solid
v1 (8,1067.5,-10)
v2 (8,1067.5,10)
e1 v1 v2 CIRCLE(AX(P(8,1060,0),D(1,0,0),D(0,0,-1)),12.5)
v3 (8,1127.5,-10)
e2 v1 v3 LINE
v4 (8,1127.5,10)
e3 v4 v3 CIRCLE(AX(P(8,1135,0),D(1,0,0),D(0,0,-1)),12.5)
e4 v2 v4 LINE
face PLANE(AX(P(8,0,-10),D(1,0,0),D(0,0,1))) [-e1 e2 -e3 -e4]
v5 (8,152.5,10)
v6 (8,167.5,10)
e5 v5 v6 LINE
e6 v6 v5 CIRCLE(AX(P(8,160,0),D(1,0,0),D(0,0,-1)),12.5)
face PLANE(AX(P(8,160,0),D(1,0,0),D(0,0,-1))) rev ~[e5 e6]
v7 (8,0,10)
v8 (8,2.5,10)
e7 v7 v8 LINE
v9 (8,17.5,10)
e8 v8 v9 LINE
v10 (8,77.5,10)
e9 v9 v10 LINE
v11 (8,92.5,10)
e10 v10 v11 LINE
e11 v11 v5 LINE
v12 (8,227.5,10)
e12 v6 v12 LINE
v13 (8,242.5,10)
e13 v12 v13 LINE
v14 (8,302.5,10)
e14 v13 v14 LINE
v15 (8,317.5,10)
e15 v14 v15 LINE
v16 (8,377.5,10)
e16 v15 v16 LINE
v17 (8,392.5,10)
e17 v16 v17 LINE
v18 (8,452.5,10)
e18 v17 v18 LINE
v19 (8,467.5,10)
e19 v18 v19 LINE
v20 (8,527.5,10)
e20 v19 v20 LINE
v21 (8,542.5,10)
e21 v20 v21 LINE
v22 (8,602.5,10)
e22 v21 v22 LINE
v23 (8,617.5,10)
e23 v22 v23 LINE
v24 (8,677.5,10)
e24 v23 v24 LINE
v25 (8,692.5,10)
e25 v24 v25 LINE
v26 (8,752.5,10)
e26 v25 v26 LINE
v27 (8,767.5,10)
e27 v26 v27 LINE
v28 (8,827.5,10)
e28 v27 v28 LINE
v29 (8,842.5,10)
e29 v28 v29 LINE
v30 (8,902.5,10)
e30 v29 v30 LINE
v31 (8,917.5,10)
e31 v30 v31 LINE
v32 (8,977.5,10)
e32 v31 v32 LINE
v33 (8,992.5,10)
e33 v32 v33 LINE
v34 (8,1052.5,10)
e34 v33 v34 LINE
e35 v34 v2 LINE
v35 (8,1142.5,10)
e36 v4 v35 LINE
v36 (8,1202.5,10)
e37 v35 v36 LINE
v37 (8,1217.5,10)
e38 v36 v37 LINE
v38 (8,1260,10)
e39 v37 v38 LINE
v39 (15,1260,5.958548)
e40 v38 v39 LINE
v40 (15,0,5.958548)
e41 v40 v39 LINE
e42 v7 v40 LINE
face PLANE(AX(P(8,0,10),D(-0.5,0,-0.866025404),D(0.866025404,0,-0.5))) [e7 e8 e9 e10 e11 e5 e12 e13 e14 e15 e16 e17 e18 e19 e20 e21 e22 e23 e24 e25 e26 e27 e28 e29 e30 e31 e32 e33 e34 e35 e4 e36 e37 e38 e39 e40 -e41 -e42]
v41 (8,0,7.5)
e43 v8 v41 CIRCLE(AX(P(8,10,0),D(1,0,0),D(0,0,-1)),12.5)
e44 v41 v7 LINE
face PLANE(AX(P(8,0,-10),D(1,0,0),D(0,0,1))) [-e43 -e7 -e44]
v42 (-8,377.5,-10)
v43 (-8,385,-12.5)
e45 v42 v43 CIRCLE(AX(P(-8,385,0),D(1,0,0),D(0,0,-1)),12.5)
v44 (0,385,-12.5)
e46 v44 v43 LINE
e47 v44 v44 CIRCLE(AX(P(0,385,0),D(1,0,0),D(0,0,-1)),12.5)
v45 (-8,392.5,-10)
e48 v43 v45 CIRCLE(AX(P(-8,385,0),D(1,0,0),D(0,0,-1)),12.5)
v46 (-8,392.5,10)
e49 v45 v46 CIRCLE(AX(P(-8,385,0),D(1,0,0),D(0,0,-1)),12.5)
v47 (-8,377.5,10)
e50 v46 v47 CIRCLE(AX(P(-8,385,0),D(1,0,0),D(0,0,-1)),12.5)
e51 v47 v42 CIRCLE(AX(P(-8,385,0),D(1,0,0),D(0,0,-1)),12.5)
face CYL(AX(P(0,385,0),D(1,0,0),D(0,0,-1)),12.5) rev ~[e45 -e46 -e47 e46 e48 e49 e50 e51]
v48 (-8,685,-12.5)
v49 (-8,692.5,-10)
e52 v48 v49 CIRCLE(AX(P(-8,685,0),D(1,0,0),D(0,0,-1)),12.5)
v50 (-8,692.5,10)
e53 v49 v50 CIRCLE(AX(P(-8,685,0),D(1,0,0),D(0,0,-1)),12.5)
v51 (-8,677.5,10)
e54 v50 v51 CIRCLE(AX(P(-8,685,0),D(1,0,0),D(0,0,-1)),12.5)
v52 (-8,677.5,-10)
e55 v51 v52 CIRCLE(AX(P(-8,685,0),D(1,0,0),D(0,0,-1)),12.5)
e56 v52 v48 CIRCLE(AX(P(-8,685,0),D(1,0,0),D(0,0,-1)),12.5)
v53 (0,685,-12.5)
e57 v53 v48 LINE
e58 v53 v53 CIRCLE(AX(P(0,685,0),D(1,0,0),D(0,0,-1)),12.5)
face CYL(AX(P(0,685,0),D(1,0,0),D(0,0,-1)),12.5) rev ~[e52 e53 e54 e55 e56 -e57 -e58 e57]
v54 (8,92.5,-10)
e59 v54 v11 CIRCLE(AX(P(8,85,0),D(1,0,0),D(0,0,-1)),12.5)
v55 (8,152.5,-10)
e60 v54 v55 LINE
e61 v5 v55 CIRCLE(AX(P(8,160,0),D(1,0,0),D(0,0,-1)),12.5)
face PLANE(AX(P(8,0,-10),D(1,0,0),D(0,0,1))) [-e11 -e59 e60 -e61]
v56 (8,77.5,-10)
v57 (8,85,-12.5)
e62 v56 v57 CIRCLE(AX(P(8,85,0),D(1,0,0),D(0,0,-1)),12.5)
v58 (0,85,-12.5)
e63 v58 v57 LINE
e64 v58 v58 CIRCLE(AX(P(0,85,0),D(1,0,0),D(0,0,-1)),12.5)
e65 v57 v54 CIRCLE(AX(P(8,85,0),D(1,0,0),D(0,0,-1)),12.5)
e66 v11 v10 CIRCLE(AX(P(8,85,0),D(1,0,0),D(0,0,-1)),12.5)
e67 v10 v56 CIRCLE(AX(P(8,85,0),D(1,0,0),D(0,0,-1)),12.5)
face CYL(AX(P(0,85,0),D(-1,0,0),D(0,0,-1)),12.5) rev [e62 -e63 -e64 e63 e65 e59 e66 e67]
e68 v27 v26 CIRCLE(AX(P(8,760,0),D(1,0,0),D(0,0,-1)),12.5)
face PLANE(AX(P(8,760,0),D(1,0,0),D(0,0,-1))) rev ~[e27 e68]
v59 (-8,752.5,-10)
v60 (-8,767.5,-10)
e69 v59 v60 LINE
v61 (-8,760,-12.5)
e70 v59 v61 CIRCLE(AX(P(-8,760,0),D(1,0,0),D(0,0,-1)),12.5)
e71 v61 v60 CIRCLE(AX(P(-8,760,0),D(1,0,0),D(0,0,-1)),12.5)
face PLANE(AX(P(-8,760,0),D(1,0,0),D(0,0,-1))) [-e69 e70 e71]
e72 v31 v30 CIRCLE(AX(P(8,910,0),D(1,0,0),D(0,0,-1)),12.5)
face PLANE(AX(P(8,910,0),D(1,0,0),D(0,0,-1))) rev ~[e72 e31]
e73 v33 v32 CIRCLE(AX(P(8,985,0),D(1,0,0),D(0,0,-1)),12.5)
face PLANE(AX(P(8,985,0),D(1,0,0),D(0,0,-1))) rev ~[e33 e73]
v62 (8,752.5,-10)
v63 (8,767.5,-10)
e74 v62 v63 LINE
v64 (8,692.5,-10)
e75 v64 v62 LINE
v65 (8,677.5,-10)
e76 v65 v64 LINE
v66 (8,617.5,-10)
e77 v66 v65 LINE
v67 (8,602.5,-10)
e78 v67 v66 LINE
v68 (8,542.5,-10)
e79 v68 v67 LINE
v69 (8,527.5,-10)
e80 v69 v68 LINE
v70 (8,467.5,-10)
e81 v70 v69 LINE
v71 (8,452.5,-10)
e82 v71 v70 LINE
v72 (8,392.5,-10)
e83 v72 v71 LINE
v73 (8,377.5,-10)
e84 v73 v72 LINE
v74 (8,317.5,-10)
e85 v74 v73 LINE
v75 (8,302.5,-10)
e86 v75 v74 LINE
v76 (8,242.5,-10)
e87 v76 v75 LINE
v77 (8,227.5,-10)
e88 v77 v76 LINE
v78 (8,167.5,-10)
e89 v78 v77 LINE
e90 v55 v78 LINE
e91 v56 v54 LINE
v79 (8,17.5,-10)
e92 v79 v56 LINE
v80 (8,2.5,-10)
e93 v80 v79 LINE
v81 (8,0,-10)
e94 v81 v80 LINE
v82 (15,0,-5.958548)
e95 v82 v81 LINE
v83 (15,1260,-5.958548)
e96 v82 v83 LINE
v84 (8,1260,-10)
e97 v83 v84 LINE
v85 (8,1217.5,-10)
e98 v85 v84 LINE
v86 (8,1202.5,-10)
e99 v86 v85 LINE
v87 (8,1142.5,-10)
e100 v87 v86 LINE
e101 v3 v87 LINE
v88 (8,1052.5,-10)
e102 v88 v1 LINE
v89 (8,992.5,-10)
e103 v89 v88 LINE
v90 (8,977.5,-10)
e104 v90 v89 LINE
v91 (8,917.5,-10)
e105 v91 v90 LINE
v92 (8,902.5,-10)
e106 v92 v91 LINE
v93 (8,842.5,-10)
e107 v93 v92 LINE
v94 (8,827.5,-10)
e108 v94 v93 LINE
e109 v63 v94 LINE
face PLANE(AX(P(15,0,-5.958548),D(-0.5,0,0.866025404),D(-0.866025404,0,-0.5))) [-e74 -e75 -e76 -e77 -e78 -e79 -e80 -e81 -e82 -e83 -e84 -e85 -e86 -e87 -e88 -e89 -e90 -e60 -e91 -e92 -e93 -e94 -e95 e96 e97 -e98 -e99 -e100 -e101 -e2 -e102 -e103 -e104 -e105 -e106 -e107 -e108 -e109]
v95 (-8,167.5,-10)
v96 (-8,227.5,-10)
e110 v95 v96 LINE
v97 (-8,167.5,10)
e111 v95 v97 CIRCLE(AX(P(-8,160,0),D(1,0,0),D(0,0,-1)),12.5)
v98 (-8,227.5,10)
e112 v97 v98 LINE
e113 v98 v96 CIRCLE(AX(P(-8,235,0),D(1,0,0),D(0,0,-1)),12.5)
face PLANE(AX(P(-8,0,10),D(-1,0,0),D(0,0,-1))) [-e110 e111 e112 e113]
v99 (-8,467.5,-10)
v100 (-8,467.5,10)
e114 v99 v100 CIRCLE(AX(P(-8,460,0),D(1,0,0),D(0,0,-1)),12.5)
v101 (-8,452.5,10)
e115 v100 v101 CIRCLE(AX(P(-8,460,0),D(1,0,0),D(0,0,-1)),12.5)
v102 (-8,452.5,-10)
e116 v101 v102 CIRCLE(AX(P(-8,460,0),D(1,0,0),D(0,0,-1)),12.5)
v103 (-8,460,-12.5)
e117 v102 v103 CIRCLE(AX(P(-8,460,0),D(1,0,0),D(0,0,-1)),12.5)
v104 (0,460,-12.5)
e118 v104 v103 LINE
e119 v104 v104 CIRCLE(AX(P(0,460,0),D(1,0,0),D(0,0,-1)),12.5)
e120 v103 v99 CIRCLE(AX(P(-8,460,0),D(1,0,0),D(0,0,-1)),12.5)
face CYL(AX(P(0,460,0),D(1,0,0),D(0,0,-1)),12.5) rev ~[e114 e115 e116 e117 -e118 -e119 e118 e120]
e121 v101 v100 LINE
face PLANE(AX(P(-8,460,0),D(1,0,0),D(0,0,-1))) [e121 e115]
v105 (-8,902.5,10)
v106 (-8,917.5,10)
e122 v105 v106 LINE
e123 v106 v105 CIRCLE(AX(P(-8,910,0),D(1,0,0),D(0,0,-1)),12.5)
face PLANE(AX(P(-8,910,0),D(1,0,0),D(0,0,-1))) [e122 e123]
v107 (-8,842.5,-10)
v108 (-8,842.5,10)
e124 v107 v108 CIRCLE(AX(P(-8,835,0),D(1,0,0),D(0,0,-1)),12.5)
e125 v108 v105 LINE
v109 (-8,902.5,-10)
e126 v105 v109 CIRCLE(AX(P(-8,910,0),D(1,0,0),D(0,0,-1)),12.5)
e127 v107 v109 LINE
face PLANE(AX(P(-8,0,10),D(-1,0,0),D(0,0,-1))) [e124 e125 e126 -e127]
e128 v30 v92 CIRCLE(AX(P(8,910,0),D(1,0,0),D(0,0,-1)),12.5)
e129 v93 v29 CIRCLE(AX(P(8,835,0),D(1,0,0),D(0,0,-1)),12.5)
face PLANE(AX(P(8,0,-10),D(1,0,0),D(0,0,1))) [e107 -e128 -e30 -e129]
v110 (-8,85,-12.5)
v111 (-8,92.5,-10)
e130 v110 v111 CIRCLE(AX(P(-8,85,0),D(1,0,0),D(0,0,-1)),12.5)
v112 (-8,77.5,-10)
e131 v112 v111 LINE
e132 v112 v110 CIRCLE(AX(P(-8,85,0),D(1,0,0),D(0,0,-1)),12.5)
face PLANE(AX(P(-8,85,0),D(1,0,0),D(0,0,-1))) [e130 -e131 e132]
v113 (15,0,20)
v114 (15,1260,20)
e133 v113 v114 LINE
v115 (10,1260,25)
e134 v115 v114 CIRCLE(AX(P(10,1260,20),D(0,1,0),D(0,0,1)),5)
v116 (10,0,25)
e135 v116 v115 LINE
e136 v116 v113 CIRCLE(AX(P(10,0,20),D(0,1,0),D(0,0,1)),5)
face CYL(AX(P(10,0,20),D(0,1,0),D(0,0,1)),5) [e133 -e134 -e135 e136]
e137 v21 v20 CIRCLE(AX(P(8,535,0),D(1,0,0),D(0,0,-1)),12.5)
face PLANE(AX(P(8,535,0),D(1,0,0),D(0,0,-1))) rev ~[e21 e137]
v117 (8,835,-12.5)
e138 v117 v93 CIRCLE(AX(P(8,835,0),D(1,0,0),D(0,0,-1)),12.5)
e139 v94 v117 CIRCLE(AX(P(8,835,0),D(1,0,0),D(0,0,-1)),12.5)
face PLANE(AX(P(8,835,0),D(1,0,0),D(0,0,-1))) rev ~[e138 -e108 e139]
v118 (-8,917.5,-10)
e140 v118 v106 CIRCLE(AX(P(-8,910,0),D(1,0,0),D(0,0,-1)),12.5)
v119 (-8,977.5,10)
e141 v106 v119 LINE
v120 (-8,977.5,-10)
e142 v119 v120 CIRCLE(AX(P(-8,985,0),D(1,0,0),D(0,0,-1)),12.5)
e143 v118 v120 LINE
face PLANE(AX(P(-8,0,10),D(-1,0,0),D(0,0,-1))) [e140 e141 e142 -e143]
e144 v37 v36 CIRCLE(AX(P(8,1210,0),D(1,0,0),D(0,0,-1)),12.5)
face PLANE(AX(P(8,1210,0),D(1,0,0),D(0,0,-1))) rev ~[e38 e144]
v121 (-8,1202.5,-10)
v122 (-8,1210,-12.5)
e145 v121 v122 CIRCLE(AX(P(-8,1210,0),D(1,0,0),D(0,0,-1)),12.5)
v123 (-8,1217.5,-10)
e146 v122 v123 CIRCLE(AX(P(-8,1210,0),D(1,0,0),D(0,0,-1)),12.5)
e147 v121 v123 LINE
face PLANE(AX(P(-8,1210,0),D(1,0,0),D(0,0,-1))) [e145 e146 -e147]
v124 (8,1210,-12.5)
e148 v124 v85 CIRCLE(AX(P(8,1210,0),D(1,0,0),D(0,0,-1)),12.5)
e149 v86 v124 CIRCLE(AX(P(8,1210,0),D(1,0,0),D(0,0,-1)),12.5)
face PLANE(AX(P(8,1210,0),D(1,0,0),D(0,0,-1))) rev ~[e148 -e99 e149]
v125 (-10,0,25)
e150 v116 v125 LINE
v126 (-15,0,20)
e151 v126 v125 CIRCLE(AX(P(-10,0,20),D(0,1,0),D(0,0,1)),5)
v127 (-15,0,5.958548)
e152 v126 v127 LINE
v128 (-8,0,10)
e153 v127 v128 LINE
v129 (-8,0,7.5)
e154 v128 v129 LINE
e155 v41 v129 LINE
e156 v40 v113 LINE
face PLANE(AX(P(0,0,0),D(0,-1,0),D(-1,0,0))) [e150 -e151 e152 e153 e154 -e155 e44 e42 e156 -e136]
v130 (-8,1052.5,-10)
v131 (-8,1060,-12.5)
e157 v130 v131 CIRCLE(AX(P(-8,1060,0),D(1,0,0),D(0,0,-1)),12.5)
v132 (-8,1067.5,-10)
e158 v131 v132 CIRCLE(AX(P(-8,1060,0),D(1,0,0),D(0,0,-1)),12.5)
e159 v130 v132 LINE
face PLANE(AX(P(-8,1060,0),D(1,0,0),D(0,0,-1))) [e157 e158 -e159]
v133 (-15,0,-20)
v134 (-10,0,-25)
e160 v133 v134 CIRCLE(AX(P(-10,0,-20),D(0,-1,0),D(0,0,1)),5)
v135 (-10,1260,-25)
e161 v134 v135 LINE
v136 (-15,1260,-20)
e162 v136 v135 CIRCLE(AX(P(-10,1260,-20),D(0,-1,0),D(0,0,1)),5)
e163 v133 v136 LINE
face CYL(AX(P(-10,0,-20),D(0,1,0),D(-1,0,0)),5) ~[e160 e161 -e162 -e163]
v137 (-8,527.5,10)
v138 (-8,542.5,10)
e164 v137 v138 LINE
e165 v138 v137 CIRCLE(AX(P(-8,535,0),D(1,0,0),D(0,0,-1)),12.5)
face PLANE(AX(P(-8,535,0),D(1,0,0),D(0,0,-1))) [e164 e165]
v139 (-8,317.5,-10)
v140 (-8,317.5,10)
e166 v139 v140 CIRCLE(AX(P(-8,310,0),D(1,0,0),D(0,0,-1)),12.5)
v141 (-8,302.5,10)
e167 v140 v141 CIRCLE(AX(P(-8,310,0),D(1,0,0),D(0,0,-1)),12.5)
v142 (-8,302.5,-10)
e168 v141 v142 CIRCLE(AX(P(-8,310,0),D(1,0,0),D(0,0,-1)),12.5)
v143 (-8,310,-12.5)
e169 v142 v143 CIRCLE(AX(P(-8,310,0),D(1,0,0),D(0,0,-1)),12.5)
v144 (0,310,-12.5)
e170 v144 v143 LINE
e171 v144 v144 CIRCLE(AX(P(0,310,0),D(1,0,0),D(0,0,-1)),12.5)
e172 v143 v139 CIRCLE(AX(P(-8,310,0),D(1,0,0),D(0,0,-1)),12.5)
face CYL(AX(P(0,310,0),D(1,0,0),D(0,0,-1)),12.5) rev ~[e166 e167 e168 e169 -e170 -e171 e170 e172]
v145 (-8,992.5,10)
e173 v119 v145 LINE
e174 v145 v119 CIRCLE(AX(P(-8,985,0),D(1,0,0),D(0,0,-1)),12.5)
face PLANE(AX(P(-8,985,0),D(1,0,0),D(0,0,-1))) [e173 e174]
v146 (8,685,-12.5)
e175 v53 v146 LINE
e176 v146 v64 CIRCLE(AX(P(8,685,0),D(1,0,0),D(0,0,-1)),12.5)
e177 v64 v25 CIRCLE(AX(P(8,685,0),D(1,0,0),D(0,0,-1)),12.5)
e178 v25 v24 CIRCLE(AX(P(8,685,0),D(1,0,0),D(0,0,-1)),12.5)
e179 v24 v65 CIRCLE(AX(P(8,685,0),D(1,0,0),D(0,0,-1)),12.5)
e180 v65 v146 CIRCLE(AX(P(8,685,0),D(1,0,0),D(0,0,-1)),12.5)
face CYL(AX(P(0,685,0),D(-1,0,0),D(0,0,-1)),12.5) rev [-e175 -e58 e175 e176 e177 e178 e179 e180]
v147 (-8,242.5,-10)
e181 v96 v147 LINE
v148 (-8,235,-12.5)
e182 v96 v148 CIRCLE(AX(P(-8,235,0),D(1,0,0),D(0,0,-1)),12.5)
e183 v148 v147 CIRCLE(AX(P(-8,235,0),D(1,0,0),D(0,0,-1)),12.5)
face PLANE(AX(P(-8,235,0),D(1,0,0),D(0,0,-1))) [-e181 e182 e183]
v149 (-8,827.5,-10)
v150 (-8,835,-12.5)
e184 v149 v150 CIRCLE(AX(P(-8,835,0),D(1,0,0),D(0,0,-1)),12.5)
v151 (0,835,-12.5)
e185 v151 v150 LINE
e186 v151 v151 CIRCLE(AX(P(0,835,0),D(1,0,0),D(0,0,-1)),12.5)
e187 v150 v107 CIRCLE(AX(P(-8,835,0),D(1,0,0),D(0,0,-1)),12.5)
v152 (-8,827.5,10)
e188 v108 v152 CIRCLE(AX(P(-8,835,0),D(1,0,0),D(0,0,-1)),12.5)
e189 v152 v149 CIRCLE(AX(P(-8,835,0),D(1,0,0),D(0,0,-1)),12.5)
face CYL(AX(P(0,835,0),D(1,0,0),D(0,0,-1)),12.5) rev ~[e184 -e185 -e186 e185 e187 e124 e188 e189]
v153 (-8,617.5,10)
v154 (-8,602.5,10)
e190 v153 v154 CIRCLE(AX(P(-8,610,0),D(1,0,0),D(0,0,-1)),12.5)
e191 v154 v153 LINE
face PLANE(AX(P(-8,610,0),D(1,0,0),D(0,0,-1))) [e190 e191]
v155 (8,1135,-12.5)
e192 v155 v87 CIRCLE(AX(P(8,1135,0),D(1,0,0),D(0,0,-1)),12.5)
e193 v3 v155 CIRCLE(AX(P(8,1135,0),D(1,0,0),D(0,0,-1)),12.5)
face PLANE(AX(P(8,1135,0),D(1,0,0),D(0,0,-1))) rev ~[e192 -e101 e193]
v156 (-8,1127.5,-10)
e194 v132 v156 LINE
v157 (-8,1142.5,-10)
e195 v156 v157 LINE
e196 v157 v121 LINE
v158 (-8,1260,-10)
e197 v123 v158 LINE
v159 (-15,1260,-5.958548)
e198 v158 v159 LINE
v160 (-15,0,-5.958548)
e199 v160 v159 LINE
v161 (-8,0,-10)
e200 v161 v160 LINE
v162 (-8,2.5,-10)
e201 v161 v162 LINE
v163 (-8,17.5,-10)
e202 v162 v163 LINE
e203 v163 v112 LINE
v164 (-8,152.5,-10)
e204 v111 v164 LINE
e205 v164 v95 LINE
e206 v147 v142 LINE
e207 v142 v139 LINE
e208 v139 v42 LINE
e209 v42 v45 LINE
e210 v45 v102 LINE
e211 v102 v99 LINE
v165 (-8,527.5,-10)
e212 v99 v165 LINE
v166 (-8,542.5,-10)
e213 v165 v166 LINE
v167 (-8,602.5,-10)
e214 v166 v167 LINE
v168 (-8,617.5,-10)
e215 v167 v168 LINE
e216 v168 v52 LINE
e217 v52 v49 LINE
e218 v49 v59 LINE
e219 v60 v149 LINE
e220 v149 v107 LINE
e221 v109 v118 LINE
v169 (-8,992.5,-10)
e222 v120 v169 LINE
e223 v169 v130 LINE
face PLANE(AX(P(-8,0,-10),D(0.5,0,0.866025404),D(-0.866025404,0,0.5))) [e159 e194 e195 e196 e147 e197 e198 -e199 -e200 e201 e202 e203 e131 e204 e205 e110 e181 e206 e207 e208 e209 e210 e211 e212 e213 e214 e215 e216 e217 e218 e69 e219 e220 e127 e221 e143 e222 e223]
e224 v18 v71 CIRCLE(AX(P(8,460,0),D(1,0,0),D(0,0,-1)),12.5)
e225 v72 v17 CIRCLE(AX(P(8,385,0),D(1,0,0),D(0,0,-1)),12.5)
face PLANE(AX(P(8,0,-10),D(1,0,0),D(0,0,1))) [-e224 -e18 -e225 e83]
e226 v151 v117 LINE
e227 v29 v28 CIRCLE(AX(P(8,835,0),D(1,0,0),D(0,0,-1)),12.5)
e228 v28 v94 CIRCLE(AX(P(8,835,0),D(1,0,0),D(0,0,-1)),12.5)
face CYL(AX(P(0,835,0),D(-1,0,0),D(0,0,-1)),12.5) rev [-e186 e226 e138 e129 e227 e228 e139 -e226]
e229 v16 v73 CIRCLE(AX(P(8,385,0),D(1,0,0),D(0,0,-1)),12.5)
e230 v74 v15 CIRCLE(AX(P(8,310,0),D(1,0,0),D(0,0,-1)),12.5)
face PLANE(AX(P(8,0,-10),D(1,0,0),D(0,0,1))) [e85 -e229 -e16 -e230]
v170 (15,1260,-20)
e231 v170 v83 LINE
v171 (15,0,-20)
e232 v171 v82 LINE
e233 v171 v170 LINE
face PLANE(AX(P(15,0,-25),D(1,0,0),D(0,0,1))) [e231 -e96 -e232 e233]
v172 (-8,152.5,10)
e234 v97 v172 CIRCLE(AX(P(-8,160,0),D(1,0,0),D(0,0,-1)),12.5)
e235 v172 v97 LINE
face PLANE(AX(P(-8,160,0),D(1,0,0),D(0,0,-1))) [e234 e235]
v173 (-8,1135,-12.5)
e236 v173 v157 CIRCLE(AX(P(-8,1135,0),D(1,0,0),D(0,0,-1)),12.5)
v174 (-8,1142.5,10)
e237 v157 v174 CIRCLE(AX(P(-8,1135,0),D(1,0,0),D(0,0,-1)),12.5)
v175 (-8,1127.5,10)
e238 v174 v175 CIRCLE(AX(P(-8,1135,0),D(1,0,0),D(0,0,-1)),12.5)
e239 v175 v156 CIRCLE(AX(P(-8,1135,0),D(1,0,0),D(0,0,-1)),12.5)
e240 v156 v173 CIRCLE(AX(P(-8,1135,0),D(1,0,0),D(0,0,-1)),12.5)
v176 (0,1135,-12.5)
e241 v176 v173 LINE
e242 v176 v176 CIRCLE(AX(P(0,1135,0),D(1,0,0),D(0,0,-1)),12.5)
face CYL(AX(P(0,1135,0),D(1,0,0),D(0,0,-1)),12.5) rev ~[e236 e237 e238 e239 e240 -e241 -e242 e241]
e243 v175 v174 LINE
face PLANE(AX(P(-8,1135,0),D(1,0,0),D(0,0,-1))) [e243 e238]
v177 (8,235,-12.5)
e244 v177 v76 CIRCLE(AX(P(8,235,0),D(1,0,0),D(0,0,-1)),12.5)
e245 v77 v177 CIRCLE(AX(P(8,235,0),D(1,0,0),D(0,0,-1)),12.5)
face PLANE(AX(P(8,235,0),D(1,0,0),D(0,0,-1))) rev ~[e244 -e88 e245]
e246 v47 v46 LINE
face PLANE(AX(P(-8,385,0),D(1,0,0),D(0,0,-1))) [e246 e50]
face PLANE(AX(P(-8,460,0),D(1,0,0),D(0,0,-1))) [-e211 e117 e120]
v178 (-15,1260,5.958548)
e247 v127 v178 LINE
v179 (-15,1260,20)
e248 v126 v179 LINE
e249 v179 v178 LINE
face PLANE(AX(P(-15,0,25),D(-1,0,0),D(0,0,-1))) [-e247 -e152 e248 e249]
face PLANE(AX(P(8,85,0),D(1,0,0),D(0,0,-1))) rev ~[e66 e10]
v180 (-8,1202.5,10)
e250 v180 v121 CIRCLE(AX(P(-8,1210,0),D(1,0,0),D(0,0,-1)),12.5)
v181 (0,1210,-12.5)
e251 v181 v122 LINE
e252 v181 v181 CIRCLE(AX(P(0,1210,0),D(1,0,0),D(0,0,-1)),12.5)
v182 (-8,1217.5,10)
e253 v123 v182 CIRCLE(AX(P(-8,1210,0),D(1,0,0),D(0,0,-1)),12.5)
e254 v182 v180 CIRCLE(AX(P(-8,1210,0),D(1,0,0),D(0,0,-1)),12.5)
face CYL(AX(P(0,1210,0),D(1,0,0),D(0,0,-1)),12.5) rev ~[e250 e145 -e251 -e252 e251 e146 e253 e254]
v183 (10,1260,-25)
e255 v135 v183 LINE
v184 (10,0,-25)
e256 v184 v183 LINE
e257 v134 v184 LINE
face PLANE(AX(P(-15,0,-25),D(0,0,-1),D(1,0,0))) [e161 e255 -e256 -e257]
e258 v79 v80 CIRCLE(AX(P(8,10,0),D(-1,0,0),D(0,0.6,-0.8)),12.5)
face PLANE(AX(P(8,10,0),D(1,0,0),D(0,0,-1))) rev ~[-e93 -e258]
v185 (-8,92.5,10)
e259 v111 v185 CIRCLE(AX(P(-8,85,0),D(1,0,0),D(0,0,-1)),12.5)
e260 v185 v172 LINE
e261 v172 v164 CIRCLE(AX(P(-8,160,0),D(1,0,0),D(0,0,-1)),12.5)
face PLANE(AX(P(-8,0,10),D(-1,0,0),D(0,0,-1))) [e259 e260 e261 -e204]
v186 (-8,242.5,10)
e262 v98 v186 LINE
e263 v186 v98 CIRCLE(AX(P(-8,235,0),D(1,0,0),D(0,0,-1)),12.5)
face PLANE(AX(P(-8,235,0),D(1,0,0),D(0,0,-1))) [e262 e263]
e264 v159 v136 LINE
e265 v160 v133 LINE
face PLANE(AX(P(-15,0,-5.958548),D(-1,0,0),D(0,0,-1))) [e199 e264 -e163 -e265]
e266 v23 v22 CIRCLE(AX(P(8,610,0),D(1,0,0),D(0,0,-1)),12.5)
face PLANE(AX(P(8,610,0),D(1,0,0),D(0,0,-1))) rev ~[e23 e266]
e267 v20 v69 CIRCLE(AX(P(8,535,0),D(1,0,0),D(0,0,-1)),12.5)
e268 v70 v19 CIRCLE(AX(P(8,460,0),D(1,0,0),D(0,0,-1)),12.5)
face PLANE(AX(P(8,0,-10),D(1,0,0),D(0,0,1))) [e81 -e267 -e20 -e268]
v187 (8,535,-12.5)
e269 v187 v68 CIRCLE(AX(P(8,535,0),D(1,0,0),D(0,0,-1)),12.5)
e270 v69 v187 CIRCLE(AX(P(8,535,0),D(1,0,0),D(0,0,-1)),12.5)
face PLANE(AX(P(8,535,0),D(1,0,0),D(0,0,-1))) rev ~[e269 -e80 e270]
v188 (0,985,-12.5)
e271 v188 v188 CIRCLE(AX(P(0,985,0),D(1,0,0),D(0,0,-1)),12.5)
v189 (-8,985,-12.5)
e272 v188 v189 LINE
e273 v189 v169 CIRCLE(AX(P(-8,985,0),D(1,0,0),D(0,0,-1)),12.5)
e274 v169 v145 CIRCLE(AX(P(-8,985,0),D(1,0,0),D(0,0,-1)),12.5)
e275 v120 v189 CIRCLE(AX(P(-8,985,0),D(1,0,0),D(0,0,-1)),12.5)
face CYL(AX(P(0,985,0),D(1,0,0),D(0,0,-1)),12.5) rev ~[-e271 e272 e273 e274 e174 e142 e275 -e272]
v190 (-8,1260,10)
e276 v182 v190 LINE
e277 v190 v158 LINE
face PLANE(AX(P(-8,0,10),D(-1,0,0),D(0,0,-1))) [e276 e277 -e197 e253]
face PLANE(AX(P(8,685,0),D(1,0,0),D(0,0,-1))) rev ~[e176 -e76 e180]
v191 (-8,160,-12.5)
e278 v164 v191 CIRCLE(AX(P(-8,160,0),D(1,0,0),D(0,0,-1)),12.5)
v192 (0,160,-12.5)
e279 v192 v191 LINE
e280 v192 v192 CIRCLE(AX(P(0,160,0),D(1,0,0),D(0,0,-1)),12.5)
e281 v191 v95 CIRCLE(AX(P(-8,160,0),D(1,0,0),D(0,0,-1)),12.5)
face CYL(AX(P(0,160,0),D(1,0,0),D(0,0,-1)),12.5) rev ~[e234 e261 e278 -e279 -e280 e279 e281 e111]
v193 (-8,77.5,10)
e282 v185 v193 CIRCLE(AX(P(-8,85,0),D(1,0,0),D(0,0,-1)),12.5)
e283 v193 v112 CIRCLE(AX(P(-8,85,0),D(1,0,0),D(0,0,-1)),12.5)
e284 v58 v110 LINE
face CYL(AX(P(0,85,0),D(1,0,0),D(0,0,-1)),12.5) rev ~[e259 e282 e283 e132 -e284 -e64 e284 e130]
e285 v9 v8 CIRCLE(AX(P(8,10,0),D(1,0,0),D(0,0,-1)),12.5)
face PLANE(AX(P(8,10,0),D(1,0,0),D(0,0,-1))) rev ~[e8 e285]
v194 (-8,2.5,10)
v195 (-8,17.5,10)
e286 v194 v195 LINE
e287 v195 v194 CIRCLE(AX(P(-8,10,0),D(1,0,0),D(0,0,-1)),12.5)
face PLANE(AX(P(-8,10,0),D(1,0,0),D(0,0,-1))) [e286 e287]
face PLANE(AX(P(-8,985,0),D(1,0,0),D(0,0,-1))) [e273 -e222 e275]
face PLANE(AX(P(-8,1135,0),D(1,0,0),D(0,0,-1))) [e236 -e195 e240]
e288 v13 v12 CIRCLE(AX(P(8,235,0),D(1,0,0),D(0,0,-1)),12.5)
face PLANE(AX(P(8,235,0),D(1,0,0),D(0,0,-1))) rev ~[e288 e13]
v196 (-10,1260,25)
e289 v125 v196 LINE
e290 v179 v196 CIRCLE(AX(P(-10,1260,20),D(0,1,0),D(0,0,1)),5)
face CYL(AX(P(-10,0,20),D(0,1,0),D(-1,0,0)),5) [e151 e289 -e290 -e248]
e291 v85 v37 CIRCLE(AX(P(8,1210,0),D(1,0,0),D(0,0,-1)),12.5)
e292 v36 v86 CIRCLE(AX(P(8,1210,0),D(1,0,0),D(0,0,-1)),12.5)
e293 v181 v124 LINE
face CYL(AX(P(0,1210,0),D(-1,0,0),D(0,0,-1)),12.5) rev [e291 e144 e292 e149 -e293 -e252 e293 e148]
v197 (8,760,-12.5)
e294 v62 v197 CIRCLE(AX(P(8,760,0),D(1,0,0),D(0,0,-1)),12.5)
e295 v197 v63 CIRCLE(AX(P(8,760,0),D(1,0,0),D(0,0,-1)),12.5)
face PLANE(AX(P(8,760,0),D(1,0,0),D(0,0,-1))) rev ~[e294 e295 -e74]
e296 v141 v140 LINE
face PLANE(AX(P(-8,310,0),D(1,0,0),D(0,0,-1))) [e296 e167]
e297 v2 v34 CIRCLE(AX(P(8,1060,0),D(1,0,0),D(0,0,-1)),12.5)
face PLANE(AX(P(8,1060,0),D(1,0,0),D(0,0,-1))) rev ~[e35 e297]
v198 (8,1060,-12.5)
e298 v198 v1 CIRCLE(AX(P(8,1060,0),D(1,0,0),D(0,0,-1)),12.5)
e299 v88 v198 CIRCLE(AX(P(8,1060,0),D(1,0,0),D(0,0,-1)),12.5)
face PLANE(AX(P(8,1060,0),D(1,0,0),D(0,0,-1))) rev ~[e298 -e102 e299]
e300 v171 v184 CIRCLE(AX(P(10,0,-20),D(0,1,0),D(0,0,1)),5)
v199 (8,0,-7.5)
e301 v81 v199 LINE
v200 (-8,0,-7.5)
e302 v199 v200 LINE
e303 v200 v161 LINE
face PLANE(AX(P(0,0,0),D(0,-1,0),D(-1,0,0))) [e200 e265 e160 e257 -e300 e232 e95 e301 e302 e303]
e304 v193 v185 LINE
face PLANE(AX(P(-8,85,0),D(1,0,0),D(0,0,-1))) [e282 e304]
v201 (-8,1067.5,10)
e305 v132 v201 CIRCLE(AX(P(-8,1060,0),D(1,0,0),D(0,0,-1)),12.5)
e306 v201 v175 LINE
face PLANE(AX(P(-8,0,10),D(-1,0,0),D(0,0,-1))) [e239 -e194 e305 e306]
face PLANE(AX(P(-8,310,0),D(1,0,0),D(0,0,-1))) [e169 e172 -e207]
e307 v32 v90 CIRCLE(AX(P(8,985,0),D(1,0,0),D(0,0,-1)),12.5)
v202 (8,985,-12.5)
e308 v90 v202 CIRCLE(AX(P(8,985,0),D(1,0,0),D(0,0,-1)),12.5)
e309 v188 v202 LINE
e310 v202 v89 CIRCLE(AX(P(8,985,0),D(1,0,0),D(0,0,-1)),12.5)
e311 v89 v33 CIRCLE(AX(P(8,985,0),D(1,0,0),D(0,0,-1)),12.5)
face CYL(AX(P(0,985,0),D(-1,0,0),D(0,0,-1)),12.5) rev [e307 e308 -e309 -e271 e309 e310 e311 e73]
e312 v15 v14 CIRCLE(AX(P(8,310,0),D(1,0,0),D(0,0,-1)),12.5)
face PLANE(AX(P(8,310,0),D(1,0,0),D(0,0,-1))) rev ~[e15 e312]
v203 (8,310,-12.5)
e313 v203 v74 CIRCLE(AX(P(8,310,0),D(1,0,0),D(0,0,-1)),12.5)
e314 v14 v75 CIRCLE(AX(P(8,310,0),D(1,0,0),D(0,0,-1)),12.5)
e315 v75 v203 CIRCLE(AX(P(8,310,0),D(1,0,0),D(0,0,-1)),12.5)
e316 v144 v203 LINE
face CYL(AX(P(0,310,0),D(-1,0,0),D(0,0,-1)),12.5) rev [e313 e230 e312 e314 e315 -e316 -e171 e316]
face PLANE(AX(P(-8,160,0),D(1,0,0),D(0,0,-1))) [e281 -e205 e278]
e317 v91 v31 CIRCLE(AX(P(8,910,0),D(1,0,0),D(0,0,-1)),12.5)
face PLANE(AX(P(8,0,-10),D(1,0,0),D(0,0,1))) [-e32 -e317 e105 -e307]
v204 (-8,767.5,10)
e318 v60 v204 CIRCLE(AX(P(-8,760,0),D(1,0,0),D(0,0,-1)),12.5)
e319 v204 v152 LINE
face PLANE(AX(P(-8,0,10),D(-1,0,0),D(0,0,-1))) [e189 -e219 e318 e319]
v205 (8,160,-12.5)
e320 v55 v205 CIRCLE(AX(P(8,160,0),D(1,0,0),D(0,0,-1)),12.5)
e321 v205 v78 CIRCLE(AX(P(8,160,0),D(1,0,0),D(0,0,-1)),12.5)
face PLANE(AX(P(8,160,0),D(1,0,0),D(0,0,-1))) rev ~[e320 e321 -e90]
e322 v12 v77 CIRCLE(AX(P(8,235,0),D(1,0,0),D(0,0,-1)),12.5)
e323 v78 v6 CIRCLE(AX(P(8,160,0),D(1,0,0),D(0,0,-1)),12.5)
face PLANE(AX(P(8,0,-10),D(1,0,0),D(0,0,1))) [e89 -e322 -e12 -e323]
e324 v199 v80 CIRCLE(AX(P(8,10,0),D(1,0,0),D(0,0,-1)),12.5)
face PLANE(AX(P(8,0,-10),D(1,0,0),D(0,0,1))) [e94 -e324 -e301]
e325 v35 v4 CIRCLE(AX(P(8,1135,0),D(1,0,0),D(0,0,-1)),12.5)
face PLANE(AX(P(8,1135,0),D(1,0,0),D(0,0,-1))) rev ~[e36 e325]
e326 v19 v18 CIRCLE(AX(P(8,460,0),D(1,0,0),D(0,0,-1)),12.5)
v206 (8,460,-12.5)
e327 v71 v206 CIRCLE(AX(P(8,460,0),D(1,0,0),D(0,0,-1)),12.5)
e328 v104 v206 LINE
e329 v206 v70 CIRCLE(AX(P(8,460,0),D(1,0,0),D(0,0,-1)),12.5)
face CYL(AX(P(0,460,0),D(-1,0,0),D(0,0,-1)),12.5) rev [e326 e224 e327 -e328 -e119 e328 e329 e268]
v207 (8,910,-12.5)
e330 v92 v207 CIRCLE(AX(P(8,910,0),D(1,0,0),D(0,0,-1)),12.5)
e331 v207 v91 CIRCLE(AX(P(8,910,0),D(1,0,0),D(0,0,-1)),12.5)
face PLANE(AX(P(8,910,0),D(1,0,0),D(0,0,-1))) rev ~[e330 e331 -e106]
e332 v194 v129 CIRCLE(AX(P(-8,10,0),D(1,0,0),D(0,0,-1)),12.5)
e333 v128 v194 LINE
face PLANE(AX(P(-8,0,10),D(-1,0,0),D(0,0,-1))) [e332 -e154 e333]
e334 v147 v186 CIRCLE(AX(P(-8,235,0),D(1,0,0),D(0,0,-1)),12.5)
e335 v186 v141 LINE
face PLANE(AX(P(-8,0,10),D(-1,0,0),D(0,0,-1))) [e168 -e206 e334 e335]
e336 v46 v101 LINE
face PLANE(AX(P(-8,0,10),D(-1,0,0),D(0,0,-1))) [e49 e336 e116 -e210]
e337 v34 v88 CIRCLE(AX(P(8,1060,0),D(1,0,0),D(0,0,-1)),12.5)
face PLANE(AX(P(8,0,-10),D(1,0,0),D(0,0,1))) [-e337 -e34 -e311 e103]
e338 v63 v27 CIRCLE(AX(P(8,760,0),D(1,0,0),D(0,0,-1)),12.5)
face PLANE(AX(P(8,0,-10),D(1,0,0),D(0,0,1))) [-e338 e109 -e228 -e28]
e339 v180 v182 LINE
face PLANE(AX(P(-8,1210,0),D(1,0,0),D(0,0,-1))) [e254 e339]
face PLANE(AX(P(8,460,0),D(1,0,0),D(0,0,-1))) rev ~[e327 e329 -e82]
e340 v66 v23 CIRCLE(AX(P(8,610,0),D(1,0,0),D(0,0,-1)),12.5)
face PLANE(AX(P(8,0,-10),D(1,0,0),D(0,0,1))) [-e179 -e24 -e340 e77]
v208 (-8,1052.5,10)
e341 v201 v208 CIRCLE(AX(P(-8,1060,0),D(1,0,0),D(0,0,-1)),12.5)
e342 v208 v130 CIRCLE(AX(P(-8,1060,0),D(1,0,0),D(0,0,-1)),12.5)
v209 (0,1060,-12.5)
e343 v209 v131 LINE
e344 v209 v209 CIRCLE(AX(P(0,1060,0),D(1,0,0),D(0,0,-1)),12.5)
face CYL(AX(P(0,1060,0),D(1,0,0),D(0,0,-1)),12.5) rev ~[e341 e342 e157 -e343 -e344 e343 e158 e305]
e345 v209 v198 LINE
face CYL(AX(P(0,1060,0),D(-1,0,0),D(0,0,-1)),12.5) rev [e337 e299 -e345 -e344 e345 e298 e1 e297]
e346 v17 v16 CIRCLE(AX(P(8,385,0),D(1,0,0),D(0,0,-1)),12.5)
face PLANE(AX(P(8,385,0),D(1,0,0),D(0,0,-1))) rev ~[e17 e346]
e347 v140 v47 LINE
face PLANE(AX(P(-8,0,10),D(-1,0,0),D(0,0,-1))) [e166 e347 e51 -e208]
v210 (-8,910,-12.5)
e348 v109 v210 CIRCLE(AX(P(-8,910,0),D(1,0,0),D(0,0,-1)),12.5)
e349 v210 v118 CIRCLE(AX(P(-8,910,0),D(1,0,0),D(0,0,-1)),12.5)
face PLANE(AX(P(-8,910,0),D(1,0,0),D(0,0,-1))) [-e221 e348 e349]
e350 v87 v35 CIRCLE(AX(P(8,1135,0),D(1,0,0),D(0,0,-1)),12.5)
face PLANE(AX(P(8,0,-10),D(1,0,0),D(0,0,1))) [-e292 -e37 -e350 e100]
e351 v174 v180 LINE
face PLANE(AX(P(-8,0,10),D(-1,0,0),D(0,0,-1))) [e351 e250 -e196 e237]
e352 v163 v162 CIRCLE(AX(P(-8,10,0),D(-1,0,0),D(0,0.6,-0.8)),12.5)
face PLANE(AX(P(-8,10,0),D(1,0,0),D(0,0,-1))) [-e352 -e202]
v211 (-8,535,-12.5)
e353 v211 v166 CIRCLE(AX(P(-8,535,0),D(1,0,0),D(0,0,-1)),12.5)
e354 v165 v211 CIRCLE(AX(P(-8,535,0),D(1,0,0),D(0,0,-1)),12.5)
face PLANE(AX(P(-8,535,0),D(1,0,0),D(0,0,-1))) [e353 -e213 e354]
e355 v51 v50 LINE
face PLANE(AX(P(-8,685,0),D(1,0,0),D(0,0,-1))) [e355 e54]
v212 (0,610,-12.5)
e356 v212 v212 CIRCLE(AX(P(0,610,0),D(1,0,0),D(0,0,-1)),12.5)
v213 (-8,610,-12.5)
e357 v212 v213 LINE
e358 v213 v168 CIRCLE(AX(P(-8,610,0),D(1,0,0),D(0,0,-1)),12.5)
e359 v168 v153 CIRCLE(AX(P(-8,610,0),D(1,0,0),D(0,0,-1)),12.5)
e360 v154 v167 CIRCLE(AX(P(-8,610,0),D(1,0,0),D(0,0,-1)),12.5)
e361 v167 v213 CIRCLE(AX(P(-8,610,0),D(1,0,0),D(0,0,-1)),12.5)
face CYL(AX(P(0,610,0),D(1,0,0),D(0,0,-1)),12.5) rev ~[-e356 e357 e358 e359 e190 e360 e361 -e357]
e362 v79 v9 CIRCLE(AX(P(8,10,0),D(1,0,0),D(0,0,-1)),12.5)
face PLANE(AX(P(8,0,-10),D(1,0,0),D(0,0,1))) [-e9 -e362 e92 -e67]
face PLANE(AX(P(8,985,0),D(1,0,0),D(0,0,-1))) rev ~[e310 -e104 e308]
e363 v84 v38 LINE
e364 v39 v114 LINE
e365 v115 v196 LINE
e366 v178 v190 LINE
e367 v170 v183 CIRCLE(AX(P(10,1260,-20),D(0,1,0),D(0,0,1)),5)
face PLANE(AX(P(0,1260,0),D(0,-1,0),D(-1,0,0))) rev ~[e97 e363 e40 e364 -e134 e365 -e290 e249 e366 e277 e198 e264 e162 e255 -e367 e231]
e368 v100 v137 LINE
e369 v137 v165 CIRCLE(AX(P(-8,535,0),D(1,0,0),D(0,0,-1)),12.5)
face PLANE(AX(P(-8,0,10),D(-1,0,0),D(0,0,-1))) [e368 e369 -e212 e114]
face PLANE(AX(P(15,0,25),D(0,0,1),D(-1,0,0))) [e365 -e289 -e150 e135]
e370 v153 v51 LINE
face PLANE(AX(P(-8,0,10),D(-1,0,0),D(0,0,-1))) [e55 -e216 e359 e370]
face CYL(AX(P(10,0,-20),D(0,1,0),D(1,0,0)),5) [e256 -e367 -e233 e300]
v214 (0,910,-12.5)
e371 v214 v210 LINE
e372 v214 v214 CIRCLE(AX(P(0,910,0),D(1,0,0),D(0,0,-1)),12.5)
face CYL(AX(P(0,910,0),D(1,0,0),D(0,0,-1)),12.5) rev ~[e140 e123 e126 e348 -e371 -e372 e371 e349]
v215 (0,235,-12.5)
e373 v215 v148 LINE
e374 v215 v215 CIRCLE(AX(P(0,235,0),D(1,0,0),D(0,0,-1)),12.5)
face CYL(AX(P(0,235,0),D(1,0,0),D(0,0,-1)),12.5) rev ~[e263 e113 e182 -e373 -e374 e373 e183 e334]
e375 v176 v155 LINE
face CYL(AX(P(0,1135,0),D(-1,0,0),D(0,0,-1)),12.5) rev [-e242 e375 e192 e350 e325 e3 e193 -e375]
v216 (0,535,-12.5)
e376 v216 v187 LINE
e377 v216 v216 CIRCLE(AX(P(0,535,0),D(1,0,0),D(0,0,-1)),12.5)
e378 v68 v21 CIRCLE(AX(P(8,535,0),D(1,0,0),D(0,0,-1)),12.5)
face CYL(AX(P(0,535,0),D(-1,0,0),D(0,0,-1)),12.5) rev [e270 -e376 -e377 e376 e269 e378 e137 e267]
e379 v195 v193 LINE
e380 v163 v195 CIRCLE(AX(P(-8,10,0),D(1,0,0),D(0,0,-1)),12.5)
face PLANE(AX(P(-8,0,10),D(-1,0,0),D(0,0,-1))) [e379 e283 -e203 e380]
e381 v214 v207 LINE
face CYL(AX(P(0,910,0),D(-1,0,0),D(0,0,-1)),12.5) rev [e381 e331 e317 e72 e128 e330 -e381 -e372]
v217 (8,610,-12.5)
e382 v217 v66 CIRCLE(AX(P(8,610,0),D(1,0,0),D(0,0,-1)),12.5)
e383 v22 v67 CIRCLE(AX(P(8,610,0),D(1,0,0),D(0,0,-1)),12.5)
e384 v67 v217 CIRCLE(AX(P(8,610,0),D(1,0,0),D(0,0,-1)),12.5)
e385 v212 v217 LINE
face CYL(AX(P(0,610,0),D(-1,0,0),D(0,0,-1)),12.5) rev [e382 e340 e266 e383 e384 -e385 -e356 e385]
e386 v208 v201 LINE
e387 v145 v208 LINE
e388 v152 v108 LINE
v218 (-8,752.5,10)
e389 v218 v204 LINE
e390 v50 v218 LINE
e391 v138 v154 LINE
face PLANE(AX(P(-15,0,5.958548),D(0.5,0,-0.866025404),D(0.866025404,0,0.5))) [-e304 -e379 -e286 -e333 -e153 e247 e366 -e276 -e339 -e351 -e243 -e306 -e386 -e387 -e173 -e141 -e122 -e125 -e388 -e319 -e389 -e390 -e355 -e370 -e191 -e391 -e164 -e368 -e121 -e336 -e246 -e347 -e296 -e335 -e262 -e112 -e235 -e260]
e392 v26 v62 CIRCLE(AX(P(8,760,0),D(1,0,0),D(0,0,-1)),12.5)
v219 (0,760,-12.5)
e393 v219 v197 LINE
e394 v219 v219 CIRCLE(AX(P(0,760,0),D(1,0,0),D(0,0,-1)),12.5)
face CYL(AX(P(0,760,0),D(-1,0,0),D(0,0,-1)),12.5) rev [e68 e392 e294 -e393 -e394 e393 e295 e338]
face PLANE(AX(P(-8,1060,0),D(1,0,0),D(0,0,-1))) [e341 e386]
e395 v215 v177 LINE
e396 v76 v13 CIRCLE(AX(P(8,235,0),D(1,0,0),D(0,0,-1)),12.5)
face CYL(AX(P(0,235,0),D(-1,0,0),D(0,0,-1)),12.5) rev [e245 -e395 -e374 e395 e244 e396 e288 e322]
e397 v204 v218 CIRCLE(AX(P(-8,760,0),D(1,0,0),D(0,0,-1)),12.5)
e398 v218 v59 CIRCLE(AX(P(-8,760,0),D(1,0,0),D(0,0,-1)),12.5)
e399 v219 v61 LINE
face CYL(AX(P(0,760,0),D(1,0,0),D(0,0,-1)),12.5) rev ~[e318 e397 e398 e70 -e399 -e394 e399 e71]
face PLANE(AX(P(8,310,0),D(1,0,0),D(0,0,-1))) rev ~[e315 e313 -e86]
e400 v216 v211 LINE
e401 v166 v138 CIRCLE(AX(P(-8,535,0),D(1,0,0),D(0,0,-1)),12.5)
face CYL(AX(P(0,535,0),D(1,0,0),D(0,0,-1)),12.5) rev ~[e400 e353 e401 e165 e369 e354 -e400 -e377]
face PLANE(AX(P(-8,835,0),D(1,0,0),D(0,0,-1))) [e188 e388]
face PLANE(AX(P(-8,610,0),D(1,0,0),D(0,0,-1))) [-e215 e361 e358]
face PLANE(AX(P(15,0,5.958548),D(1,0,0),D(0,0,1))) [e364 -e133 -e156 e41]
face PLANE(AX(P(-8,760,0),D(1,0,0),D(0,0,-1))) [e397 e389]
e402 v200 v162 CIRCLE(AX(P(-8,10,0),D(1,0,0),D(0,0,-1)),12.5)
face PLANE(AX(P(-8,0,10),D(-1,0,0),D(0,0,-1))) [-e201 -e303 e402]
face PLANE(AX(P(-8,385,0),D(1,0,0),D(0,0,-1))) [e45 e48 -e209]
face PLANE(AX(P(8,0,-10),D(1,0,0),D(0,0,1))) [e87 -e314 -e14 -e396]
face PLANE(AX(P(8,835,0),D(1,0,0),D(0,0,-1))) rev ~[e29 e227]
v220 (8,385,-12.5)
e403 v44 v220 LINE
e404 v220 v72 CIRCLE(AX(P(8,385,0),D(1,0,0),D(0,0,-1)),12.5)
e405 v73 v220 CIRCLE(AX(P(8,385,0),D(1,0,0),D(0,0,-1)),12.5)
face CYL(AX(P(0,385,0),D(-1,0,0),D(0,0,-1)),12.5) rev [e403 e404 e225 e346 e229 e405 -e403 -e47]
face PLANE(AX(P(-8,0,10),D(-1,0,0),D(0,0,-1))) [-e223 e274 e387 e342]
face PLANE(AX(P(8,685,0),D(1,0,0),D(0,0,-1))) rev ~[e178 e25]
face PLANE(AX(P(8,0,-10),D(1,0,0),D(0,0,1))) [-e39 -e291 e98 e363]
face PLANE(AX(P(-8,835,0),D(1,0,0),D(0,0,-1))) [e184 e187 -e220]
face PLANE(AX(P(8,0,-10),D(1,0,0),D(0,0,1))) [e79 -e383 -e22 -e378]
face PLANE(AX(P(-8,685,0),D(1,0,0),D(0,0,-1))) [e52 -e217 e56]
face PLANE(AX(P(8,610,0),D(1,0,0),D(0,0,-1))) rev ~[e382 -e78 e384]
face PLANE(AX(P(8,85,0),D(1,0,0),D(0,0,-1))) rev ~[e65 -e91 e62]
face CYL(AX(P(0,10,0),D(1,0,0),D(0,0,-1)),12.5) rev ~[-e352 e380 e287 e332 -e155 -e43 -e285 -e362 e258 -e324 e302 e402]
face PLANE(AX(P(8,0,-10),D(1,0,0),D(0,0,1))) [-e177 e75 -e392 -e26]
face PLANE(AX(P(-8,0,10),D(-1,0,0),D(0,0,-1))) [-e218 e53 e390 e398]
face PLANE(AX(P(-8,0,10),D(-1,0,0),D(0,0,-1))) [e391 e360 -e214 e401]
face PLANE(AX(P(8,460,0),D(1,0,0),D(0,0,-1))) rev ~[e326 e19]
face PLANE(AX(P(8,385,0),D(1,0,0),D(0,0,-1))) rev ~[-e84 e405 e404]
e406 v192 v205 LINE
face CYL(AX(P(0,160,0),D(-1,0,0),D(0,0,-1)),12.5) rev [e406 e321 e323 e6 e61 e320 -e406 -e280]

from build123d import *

# Parameters (mm, degrees)
BOSS_EXTRUDE1_DEPTH     = 1260
SKETCH3_R               = 12.5
CUT_EXTRUDE1_DEPTH      = 8
CUT_EXTRUDE1_DEPTH_BACK = 8
FILLET1_R               = 5


with BuildPart() as part:
    # Sketch1 → Boss-Extrude1 (new body)
    with BuildSketch(Plane(origin=(0, 0, 0), x_dir=(1, 0, 0), z_dir=(0, 1, 0))):
        Polygon((15, 25), (15, 5.958548116), (8, 10), (8, -10), (15, -5.958548116), (15, -25), (-15, -25), (-15, -5.958548116), (-8, -10), (-8, 10), (-15, 5.958548116), (-15, 25), align=None)
    extrude(amount=BOSS_EXTRUDE1_DEPTH)

    # Sketch3 → Cut-Extrude1 (cut, two sides)
    with BuildSketch(Plane(origin=(0, 0, 0), x_dir=(0, 0, -1), z_dir=(1, 0, 0))) as cut_extrude1_sk:
        with Locations((0, 1210)):
            Circle(SKETCH3_R)
        with Locations((0, 1135)):
            Circle(SKETCH3_R)
        with Locations((0, 1060)):
            Circle(SKETCH3_R)
        with Locations((0, 985)):
            Circle(SKETCH3_R)
        with Locations((0, 910)):
            Circle(SKETCH3_R)
        with Locations((0, 835)):
            Circle(SKETCH3_R)
        with Locations((0, 760)):
            Circle(SKETCH3_R)
        with Locations((0, 685)):
            Circle(SKETCH3_R)
        with Locations((0, 610)):
            Circle(SKETCH3_R)
        with Locations((0, 535)):
            Circle(SKETCH3_R)
        with Locations((0, 460)):
            Circle(SKETCH3_R)
        with Locations((0, 385)):
            Circle(SKETCH3_R)
        with Locations((0, 310)):
            Circle(SKETCH3_R)
        with Locations((0, 235)):
            Circle(SKETCH3_R)
        with Locations((0, 160)):
            Circle(SKETCH3_R)
        with Locations((0, 85)):
            Circle(SKETCH3_R)
        with Locations((0, 10)):
            Circle(SKETCH3_R)
    extrude(amount=CUT_EXTRUDE1_DEPTH, mode=Mode.SUBTRACT)
    extrude(cut_extrude1_sk.sketch, amount=-CUT_EXTRUDE1_DEPTH_BACK, mode=Mode.SUBTRACT)

    # Fillet1
    fillet1_edges = [part.edges().sort_by_distance(p)[0] for p in [
        (15, 630, -25),
        (15, 630, 25),
        (-15, 630, 25),
        (-15, 630, -25),
    ]]
    fillet(fillet1_edges, radius=FILLET1_R)


solid = part.part
